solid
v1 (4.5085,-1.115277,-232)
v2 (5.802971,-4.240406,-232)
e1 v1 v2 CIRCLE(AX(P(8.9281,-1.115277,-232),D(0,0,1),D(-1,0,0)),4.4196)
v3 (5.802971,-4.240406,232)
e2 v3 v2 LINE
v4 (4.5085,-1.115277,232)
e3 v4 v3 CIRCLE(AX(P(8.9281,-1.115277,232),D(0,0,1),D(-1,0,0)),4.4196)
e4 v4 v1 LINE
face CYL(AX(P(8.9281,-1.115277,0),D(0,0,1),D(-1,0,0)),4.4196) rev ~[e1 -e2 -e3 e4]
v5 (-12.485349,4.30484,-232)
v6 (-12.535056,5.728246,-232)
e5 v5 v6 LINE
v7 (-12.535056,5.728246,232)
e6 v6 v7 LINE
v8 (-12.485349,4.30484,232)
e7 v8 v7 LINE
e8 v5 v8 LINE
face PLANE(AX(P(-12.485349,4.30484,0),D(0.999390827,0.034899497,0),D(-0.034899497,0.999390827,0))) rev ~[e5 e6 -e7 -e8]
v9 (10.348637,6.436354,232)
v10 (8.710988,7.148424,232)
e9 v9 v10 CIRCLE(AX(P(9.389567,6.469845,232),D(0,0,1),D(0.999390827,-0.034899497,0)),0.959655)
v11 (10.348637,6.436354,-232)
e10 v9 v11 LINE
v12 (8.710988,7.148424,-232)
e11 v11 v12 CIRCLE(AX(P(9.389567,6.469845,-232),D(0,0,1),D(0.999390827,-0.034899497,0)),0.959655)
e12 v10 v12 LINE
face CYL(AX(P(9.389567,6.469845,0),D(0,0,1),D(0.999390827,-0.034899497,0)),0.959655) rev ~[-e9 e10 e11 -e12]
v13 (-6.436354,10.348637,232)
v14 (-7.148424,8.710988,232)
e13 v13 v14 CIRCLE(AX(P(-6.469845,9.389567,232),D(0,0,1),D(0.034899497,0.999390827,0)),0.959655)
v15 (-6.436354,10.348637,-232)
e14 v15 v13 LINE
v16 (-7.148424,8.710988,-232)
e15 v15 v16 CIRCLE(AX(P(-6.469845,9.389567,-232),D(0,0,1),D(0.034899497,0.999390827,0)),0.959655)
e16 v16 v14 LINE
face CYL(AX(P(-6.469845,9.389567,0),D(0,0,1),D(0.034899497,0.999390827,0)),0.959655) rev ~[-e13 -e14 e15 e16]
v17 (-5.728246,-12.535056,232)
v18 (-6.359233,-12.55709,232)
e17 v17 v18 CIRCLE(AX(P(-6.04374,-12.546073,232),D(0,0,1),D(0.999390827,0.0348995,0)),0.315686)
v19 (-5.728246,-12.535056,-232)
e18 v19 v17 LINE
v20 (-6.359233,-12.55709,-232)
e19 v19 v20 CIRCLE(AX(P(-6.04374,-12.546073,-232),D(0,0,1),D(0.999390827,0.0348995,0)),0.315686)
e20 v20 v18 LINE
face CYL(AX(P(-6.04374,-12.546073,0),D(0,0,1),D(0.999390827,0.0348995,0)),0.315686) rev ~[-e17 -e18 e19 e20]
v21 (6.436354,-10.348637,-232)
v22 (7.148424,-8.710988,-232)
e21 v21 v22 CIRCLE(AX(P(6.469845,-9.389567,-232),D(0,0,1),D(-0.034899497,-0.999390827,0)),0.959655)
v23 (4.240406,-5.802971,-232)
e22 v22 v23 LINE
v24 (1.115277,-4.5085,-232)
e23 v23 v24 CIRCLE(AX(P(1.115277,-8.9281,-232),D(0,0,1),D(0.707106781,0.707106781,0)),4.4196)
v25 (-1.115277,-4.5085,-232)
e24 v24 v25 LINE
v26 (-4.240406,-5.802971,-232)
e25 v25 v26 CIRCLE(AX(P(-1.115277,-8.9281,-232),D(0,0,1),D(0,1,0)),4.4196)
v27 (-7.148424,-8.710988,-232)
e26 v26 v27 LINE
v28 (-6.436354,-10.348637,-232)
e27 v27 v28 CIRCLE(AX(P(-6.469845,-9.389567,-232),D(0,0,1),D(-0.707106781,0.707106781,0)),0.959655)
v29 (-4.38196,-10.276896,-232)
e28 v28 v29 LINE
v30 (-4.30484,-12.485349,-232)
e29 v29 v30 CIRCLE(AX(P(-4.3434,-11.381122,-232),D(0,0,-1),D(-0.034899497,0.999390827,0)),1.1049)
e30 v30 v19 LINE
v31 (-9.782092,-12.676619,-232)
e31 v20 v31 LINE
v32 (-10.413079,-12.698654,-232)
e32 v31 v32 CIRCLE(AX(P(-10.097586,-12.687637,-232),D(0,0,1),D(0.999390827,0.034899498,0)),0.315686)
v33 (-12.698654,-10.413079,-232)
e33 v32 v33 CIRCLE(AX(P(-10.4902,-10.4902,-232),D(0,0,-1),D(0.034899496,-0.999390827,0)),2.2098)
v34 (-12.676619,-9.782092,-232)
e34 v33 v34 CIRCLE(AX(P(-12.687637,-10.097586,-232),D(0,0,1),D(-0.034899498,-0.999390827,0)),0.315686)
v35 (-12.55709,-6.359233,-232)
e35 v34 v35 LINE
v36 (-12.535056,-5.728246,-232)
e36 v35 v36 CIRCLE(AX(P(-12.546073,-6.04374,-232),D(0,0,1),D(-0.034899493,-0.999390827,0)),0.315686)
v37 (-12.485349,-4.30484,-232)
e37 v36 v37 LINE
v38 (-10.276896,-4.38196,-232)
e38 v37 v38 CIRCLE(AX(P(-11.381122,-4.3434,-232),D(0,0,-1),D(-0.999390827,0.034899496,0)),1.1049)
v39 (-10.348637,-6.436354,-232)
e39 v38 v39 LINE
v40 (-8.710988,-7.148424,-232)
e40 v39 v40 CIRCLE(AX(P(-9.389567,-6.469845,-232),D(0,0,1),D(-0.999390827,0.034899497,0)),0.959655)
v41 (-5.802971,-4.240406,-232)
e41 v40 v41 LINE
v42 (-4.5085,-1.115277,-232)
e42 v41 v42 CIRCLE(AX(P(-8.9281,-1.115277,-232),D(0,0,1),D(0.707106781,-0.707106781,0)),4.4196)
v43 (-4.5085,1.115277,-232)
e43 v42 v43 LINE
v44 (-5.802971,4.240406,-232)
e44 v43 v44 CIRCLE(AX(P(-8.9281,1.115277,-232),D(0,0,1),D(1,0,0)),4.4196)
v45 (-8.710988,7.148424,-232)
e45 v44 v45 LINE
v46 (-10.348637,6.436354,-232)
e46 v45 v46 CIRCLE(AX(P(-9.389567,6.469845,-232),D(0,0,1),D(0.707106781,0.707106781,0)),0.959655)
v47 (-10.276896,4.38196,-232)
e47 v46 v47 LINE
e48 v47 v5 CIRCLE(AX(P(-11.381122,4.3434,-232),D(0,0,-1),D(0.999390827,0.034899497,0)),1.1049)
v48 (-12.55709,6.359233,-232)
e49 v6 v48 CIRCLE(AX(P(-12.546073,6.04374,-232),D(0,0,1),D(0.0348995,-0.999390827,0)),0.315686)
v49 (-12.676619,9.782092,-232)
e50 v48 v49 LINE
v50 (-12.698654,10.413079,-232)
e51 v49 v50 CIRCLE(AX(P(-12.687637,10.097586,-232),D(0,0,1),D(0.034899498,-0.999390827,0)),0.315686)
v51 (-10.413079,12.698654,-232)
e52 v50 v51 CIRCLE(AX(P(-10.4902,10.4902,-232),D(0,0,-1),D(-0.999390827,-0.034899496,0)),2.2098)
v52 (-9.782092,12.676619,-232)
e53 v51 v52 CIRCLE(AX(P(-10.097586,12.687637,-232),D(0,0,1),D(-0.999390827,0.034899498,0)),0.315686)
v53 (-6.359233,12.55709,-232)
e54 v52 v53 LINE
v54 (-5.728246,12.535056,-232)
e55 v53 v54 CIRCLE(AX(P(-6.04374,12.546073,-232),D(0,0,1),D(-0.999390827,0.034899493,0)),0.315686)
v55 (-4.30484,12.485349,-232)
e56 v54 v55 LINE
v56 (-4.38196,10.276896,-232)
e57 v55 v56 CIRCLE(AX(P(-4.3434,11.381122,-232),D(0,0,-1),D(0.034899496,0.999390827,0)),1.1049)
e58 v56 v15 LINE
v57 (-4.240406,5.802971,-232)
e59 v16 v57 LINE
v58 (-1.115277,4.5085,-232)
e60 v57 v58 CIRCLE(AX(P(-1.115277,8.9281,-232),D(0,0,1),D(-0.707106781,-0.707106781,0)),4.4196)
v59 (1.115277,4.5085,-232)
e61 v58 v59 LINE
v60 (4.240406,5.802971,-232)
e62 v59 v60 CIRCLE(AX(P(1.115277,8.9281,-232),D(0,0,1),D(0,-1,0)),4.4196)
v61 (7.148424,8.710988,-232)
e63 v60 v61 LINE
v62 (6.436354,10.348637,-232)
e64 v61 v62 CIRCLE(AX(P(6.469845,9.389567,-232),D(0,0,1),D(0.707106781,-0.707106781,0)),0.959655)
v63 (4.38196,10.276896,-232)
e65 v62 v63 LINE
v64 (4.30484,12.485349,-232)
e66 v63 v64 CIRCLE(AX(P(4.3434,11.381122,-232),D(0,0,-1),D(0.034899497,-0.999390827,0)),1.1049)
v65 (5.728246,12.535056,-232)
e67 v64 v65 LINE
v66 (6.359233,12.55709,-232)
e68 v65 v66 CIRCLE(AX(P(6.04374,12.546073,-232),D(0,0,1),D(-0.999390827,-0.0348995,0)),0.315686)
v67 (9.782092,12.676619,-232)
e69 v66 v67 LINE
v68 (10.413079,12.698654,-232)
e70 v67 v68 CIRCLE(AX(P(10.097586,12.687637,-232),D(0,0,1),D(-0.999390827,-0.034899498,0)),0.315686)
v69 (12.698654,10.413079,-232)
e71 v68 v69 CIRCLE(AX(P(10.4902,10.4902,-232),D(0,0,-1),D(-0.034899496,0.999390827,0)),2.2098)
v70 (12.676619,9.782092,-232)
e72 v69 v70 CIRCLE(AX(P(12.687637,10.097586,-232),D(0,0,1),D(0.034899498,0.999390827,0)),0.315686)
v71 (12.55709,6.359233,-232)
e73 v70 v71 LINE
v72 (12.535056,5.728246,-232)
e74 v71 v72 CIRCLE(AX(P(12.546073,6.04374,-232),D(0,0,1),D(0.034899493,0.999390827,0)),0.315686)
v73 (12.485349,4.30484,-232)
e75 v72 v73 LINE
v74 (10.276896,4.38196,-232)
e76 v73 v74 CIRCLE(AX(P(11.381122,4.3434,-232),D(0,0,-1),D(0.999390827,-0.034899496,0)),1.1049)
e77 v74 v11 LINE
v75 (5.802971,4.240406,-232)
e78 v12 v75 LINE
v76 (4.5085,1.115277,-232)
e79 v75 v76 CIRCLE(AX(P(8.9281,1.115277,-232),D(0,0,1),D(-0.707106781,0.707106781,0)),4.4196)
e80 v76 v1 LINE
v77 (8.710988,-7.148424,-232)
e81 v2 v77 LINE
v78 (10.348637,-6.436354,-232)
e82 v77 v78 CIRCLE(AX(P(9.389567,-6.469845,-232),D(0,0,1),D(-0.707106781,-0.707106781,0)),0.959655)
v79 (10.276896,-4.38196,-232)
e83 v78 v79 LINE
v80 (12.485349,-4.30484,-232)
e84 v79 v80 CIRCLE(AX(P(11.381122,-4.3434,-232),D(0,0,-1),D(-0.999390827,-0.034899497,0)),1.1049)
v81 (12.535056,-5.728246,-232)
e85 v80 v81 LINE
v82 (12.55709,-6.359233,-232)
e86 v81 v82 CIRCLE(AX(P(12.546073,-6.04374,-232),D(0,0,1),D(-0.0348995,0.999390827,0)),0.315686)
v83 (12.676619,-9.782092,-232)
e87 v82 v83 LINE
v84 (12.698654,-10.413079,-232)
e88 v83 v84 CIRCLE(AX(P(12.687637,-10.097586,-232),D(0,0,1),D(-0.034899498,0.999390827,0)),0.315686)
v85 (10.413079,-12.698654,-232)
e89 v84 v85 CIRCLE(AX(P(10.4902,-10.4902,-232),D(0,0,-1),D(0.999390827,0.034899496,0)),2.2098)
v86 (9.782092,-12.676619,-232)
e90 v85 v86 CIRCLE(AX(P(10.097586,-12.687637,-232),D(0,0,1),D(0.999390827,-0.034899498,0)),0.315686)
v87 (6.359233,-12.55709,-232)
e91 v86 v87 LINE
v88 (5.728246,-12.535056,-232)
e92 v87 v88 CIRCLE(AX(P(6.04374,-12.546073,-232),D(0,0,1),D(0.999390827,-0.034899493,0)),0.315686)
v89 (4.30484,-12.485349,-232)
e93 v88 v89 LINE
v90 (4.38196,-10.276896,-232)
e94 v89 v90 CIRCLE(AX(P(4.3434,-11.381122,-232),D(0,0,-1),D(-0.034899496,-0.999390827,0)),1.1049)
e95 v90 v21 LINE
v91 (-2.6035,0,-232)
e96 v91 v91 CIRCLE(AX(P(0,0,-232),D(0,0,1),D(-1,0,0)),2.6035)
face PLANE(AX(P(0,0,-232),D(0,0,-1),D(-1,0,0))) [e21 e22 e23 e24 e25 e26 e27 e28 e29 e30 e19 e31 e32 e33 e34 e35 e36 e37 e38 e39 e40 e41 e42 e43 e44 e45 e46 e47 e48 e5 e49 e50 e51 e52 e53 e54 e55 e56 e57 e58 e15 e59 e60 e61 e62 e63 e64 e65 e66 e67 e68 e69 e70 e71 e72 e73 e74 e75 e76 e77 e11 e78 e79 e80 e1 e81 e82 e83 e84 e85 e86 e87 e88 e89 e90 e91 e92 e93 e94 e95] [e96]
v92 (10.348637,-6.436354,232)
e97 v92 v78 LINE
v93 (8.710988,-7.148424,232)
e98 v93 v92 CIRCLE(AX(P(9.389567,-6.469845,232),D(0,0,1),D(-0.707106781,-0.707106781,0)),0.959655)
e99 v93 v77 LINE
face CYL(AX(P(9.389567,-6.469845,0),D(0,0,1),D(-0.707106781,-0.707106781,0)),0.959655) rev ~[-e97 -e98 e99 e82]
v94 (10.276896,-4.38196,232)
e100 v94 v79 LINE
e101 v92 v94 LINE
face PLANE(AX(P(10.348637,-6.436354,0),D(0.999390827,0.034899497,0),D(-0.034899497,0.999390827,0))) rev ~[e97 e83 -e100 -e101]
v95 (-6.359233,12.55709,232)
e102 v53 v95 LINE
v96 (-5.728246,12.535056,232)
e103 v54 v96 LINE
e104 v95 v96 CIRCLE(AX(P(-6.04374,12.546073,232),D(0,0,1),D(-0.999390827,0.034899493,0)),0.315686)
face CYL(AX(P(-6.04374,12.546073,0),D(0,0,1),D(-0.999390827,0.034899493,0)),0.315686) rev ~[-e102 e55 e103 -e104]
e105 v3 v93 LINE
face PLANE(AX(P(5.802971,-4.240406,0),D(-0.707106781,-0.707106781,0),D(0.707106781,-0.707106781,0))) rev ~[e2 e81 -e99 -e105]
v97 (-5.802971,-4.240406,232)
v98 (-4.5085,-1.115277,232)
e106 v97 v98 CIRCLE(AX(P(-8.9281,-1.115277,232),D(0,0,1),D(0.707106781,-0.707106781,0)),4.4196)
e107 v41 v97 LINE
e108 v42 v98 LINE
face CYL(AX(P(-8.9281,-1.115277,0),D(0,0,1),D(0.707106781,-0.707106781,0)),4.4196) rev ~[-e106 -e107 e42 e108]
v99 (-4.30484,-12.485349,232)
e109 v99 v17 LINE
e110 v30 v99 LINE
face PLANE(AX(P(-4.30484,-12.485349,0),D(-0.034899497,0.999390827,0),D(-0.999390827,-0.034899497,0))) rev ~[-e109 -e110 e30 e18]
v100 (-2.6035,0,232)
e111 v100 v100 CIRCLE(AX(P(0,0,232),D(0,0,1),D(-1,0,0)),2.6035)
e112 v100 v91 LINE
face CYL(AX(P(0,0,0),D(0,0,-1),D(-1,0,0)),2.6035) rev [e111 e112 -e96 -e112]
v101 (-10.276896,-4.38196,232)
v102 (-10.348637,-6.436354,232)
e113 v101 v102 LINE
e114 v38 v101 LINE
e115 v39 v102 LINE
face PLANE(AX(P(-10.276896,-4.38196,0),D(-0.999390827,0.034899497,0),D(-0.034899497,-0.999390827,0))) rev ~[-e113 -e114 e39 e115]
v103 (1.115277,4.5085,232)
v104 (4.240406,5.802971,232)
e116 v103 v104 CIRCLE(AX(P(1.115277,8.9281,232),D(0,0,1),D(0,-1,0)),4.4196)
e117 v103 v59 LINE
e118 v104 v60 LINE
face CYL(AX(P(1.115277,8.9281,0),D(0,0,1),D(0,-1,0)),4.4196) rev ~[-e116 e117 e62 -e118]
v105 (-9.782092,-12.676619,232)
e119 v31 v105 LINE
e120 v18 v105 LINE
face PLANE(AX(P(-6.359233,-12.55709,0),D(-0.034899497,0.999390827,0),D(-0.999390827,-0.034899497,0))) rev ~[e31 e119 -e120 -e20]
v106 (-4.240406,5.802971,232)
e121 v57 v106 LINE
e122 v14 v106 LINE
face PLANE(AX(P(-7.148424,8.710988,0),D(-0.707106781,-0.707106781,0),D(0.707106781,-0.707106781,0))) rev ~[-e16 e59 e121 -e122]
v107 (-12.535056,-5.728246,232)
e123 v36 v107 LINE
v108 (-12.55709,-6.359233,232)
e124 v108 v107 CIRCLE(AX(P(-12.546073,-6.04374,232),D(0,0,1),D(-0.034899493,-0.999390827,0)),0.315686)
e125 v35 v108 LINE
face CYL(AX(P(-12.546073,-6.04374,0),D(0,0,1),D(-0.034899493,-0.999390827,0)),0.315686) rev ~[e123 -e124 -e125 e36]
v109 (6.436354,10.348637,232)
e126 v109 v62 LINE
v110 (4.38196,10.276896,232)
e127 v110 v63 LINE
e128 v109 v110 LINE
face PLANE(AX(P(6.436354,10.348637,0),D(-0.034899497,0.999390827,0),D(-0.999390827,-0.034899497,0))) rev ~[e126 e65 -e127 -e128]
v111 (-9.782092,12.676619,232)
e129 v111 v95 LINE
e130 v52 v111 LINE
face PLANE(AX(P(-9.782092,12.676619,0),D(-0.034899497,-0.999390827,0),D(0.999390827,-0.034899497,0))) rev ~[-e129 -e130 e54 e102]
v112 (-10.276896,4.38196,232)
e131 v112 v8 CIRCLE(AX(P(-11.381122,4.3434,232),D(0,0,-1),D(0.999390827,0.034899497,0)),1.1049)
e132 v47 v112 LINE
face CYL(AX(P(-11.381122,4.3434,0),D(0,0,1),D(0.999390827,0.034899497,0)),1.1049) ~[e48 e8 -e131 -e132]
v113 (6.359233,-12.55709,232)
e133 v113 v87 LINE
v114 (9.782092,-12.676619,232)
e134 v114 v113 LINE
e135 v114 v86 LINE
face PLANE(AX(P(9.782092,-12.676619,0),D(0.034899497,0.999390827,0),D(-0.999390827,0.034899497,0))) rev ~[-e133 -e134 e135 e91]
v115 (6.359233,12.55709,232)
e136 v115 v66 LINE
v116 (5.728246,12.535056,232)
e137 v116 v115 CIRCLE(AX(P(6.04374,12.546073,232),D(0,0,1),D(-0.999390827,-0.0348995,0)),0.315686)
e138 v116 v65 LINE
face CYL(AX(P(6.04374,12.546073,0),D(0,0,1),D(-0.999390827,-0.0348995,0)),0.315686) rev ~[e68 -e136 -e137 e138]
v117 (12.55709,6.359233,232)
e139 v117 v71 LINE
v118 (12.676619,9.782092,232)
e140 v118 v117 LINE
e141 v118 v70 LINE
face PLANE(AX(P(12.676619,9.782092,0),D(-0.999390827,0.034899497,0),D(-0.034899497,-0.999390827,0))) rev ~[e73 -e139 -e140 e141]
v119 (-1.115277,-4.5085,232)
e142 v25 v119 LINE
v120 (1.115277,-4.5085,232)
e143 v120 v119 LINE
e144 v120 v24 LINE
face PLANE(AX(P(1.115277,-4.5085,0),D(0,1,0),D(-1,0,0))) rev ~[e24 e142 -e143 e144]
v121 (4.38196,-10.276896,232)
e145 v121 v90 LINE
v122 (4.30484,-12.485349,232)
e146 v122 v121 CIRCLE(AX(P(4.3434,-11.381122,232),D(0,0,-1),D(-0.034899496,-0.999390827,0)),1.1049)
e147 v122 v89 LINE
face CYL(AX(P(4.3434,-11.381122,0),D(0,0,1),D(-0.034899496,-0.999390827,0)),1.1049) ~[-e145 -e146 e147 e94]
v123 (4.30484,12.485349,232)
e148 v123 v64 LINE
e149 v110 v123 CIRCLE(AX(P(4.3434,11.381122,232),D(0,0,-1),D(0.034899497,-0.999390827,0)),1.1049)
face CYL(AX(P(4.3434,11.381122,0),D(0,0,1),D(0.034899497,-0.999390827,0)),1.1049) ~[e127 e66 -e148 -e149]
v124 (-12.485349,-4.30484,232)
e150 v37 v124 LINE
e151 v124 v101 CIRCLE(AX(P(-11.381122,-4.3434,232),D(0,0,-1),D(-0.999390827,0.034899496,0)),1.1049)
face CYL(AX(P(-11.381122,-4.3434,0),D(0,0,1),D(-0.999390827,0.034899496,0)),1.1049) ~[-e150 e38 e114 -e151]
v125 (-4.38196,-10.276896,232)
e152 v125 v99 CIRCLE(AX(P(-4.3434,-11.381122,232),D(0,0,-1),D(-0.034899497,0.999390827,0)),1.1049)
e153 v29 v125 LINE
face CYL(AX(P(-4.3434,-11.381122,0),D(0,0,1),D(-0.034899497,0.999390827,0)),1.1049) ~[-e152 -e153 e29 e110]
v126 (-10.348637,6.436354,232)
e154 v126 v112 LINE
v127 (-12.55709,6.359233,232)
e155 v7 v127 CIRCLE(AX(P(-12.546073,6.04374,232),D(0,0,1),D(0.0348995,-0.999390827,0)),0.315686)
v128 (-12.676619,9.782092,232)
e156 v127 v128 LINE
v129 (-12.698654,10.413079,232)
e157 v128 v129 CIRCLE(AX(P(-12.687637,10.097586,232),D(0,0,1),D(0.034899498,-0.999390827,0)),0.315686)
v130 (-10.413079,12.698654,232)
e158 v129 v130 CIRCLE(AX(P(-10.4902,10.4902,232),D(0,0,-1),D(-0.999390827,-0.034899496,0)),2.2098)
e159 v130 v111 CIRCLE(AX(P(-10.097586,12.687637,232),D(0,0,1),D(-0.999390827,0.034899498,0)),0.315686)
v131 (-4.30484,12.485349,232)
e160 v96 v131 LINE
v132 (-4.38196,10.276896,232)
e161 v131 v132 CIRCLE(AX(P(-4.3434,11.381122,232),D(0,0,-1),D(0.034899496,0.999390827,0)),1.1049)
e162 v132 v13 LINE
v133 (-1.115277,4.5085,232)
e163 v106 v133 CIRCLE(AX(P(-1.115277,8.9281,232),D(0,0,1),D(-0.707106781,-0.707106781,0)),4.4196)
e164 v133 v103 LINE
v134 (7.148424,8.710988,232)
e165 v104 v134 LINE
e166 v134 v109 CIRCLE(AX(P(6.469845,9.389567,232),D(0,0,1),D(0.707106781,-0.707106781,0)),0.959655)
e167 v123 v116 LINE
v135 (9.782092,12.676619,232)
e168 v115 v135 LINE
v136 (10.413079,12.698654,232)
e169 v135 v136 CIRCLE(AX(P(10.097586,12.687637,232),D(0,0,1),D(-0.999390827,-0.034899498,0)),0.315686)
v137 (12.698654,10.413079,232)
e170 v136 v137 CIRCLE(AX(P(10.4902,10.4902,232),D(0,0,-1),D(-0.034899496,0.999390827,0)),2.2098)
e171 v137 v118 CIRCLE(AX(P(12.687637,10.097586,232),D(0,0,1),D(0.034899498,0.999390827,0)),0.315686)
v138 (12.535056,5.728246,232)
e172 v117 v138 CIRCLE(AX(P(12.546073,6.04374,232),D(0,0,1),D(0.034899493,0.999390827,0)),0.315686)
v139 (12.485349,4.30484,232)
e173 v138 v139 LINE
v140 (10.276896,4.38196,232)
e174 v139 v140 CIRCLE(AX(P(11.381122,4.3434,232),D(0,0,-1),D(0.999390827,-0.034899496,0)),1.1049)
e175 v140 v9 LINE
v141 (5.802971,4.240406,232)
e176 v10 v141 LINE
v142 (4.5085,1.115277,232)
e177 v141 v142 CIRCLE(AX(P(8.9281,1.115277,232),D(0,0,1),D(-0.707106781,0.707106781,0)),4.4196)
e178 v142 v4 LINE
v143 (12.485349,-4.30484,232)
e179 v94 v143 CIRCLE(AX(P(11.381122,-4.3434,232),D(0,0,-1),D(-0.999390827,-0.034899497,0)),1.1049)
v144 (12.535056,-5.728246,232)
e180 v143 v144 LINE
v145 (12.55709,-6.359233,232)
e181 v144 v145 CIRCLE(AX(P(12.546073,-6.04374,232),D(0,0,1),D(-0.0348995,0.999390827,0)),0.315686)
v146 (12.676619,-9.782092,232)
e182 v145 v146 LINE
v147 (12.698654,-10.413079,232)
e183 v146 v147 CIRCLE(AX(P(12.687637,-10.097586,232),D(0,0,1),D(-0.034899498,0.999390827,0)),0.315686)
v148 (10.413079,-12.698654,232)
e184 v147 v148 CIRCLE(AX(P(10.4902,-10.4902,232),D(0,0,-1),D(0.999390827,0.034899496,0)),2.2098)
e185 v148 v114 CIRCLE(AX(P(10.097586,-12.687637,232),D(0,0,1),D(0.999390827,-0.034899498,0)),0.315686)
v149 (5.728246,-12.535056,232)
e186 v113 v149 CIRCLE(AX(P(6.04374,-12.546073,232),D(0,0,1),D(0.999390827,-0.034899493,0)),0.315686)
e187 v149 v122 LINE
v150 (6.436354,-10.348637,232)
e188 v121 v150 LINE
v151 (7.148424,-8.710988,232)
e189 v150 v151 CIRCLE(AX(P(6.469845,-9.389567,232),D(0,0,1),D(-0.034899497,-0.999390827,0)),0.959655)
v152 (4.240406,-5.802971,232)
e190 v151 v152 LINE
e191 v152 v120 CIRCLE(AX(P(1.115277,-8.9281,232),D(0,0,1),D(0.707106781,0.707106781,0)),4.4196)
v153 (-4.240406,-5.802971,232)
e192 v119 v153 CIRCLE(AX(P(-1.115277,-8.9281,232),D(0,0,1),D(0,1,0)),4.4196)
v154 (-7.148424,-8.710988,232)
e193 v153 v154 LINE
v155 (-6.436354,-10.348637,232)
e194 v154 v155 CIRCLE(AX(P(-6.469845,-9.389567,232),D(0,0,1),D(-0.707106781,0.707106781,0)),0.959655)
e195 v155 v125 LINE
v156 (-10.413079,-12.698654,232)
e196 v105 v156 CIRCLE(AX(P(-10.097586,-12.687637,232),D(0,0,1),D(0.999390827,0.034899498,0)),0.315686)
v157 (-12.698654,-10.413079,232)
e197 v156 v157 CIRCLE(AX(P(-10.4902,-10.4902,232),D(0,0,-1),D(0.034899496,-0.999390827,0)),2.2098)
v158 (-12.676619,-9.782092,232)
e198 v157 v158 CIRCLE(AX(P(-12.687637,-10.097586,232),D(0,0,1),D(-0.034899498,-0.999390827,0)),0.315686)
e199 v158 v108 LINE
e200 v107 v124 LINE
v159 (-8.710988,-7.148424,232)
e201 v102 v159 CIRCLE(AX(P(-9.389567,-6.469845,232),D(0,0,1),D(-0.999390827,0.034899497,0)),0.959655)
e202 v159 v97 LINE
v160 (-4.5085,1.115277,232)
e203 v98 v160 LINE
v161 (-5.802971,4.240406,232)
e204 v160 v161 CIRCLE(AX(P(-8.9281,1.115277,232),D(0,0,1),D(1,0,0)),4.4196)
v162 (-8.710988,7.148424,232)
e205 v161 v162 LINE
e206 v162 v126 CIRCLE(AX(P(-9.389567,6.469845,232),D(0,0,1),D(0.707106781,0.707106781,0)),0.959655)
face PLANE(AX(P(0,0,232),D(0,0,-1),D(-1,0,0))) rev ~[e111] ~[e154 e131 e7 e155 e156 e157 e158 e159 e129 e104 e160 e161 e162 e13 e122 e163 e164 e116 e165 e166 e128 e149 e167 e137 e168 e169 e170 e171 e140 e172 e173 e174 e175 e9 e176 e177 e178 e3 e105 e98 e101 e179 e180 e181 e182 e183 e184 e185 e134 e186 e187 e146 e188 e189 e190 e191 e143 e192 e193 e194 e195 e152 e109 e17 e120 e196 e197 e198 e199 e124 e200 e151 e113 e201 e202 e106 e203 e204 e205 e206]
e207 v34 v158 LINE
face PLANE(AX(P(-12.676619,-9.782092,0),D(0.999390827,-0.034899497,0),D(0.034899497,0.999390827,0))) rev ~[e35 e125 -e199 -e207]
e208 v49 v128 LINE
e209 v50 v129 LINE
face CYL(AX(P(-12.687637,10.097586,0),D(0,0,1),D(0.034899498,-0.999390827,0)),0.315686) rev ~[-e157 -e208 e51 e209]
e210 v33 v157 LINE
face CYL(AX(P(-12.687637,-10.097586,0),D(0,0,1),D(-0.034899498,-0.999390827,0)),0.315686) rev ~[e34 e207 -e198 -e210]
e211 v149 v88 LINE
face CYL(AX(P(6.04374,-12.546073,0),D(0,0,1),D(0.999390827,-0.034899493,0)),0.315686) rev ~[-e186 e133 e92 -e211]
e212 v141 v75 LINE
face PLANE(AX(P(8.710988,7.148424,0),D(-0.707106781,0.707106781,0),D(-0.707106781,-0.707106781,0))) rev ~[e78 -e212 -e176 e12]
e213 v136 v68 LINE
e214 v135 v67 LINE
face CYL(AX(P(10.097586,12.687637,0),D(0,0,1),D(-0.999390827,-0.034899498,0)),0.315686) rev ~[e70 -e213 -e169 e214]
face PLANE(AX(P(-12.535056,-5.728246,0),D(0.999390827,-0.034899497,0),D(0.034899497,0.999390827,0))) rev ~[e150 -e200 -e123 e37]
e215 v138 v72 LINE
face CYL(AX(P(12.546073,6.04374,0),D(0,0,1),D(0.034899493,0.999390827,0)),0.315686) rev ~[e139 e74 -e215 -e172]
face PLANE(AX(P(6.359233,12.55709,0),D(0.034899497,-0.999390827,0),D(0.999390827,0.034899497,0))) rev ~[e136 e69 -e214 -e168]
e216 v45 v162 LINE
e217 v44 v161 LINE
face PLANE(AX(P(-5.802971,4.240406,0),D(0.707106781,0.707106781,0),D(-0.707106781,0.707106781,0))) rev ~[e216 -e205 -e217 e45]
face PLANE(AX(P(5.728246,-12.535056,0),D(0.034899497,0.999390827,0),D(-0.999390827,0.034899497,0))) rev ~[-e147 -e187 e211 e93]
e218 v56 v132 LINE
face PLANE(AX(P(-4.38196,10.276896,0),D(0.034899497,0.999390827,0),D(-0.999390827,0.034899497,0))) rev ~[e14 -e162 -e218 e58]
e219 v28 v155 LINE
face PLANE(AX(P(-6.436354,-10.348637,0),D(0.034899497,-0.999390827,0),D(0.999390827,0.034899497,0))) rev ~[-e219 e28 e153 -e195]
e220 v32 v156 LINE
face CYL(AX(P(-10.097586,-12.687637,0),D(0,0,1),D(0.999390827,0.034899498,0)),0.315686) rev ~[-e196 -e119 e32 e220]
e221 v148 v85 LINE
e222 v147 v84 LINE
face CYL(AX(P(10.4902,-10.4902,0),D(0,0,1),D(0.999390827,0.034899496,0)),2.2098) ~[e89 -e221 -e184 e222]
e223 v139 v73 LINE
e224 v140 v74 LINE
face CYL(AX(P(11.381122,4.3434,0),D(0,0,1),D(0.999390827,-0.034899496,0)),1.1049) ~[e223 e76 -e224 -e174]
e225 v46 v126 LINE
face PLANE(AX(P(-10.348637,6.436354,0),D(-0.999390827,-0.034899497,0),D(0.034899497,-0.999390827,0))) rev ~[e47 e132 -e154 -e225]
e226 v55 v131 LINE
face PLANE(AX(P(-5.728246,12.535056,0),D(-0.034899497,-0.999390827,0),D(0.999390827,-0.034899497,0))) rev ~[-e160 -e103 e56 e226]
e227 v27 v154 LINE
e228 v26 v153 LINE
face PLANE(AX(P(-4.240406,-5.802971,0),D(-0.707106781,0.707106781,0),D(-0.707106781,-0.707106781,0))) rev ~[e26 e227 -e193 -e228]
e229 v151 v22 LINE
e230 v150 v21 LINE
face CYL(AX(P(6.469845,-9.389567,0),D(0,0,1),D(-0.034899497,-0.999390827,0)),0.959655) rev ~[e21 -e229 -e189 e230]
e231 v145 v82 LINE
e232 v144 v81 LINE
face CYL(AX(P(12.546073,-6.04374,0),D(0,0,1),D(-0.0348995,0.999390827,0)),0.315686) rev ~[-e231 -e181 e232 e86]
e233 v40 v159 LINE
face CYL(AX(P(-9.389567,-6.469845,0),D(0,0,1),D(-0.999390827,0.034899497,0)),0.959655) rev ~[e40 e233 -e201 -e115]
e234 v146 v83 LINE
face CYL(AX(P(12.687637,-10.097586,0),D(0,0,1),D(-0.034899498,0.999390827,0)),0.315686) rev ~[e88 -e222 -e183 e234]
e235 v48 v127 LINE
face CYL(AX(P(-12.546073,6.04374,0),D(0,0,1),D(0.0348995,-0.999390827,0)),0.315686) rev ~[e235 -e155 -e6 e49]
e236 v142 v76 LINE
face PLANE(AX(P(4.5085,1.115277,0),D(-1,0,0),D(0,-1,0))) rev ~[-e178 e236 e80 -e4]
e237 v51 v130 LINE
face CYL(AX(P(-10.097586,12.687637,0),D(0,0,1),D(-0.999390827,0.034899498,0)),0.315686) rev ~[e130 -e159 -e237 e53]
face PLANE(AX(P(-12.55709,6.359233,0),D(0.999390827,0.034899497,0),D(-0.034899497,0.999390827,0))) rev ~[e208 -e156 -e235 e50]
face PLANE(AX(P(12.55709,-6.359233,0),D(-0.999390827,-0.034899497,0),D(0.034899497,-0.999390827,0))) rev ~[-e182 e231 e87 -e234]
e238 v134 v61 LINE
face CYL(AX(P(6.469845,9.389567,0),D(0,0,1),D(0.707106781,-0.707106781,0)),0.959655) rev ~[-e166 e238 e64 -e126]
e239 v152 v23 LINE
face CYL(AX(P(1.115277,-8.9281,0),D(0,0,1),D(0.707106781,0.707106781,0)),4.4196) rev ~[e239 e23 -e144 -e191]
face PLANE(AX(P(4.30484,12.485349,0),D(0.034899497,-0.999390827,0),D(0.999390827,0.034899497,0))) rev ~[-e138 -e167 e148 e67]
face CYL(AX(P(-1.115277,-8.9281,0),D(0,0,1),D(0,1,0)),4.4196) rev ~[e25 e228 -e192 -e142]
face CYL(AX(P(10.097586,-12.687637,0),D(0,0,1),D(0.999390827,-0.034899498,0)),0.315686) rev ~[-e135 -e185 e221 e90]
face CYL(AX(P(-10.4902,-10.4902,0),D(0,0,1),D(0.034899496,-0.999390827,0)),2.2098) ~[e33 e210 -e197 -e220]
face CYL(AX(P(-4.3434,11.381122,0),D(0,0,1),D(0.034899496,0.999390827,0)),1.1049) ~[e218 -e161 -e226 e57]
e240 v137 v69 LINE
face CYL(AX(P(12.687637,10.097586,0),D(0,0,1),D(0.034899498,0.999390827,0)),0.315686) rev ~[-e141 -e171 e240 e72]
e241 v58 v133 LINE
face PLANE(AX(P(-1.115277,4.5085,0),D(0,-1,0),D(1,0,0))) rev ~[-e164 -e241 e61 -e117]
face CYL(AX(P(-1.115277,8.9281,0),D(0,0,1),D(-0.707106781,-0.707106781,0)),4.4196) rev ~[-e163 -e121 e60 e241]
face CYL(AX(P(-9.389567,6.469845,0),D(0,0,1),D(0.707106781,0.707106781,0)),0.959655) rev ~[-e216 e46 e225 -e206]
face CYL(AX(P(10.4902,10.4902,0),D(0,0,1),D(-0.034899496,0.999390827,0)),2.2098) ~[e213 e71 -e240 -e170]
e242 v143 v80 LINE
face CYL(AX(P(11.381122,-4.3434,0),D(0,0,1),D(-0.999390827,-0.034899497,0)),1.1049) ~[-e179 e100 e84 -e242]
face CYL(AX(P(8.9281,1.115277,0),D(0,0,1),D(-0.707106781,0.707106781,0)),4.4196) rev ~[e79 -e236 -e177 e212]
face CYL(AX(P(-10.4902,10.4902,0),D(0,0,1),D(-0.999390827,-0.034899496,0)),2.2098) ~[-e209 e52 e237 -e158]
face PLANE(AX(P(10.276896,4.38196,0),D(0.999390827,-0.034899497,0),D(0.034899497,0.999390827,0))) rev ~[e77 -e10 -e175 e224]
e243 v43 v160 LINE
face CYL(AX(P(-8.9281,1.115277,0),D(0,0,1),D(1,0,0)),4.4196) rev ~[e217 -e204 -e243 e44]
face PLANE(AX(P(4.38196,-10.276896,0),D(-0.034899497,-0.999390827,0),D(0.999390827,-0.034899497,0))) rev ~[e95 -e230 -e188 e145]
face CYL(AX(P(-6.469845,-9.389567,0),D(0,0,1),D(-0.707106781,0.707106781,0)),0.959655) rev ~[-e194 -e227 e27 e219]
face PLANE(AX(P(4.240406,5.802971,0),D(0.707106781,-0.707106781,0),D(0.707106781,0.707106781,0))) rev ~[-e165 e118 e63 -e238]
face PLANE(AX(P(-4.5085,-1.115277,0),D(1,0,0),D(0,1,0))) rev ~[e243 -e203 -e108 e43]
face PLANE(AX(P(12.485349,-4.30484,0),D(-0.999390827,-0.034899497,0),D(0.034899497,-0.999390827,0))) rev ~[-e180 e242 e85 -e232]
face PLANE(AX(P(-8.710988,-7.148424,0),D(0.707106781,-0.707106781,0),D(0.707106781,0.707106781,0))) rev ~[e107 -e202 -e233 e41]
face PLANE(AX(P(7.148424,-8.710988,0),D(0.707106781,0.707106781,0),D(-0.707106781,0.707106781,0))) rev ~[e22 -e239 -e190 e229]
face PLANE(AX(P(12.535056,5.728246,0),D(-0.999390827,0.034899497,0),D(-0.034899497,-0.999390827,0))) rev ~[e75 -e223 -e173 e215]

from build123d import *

# Parameters (mm, degrees)
SKETCH3_R      = 2.6035
EXTRUDE1_DEPTH = 232


with BuildPart() as part:
    # Sketch3 → Extrude1 (new, symmetric)
    with BuildSketch(Plane.XY):
        with BuildLine():
            Line((-1.115277175, 4.5085), (1.115277175, 4.5085))
            ThreePointArc((1.115277175, 4.5085), (2.806584872, 4.844922018), (4.240406305, 5.80297087))
            Line((4.240406305, 5.80297087), (7.148423664, 8.710988229))
            ThreePointArc((7.148423664, 8.710988229), (7.349906316, 9.772227925), (6.436353897, 10.348636575))
            Line((6.436353897, 10.348636575), (4.381960454, 10.276895575))
            ThreePointArc((4.381960454, 10.276895575), (3.239173075, 11.342562046), (4.304839546, 12.485349424))
            Line((4.304839546, 12.485349424), (5.728246175, 12.535055879))
            ThreePointArc((5.728246175, 12.535055879), (6.054756855, 12.230579745), (6.35923299, 12.557090424))
            Line((6.35923299, 12.557090424), (9.782092278, 12.676619304))
            ThreePointArc((9.782092278, 12.676619304), (10.108602958, 12.37214317), (10.413079092, 12.69865385))
            ThreePointArc((10.413079092, 12.69865385), (12.052764565, 12.052764565), (12.69865385, 10.413079092))
            ThreePointArc((12.69865385, 10.413079092), (12.37214317, 10.108602958), (12.676619304, 9.782092278))
            Line((12.676619304, 9.782092278), (12.557090424, 6.35923299))
            ThreePointArc((12.557090424, 6.35923299), (12.230579745, 6.054756855), (12.535055879, 5.728246175))
            Line((12.535055879, 5.728246175), (12.485349424, 4.304839546))
            ThreePointArc((12.485349424, 4.304839546), (11.342562046, 3.239173075), (10.276895575, 4.381960454))
            Line((10.276895575, 4.381960454), (10.348636575, 6.436353897))
            ThreePointArc((10.348636575, 6.436353897), (9.772227925, 7.349906316), (8.710988229, 7.148423664))
            Line((8.710988229, 7.148423664), (5.80297087, 4.240406305))
            ThreePointArc((5.80297087, 4.240406305), (4.844922018, 2.806584872), (4.5085, 1.115277175))
            Line((4.5085, 1.115277175), (4.5085, -1.115277175))
            ThreePointArc((4.5085, -1.115277175), (4.844922018, -2.806584872), (5.80297087, -4.240406305))
            Line((5.80297087, -4.240406305), (8.710988229, -7.148423664))
            ThreePointArc((8.710988229, -7.148423664), (9.772227925, -7.349906316), (10.348636575, -6.436353897))
            Line((10.348636575, -6.436353897), (10.276895575, -4.381960454))
            ThreePointArc((10.276895575, -4.381960454), (11.342562046, -3.239173075), (12.485349424, -4.304839546))
            Line((12.485349424, -4.304839546), (12.535055879, -5.728246175))
            ThreePointArc((12.535055879, -5.728246175), (12.230579745, -6.054756855), (12.557090424, -6.35923299))
            Line((12.557090424, -6.35923299), (12.676619304, -9.782092278))
            ThreePointArc((12.676619304, -9.782092278), (12.37214317, -10.108602958), (12.69865385, -10.413079092))
            ThreePointArc((12.69865385, -10.413079092), (12.052764565, -12.052764565), (10.413079092, -12.69865385))
            ThreePointArc((10.413079092, -12.69865385), (10.108602958, -12.37214317), (9.782092278, -12.676619304))
            Line((9.782092278, -12.676619304), (6.35923299, -12.557090424))
            ThreePointArc((6.35923299, -12.557090424), (6.054756855, -12.230579745), (5.728246175, -12.535055879))
            Line((5.728246175, -12.535055879), (4.304839546, -12.485349424))
            ThreePointArc((4.304839546, -12.485349424), (3.239173075, -11.342562046), (4.381960454, -10.276895575))
            Line((4.381960454, -10.276895575), (6.436353897, -10.348636575))
            ThreePointArc((6.436353897, -10.348636575), (7.349906316, -9.772227925), (7.148423664, -8.710988229))
            Line((7.148423664, -8.710988229), (4.240406305, -5.80297087))
            ThreePointArc((4.240406305, -5.80297087), (2.806584872, -4.844922018), (1.115277175, -4.5085))
            Line((1.115277175, -4.5085), (-1.115277175, -4.5085))
            ThreePointArc((-1.115277175, -4.5085), (-2.806584872, -4.844922018), (-4.240406305, -5.80297087))
            Line((-4.240406305, -5.80297087), (-7.148423664, -8.710988229))
            ThreePointArc((-7.148423664, -8.710988229), (-7.349906316, -9.772227925), (-6.436353897, -10.348636575))
            Line((-6.436353897, -10.348636575), (-4.381960454, -10.276895575))
            ThreePointArc((-4.381960454, -10.276895575), (-3.239173075, -11.342562046), (-4.304839546, -12.485349424))
            Line((-4.304839546, -12.485349424), (-5.728246175, -12.535055879))
            ThreePointArc((-5.728246175, -12.535055879), (-6.054756855, -12.230579745), (-6.35923299, -12.557090424))
            Line((-6.35923299, -12.557090424), (-9.782092278, -12.676619304))
            ThreePointArc((-9.782092278, -12.676619304), (-10.108602958, -12.37214317), (-10.413079092, -12.69865385))
            ThreePointArc((-10.413079092, -12.69865385), (-12.052764565, -12.052764565), (-12.69865385, -10.413079092))
            ThreePointArc((-12.69865385, -10.413079092), (-12.37214317, -10.108602958), (-12.676619304, -9.782092278))
            Line((-12.676619304, -9.782092278), (-12.557090424, -6.35923299))
            ThreePointArc((-12.557090424, -6.35923299), (-12.230579745, -6.054756855), (-12.535055879, -5.728246175))
            Line((-12.535055879, -5.728246175), (-12.485349424, -4.304839546))
            ThreePointArc((-12.485349424, -4.304839546), (-11.342562046, -3.239173075), (-10.276895575, -4.381960454))
            Line((-10.276895575, -4.381960454), (-10.348636575, -6.436353897))
            ThreePointArc((-10.348636575, -6.436353897), (-9.772227925, -7.349906316), (-8.710988229, -7.148423664))
            Line((-8.710988229, -7.148423664), (-5.80297087, -4.240406305))
            ThreePointArc((-5.80297087, -4.240406305), (-4.844922018, -2.806584872), (-4.5085, -1.115277175))
            Line((-4.5085, -1.115277175), (-4.5085, 1.115277175))
            ThreePointArc((-4.5085, 1.115277175), (-4.844922018, 2.806584872), (-5.80297087, 4.240406305))
            Line((-5.80297087, 4.240406305), (-8.710988229, 7.148423664))
            ThreePointArc((-8.710988229, 7.148423664), (-9.772227925, 7.349906316), (-10.348636575, 6.436353897))
            Line((-10.348636575, 6.436353897), (-10.276895575, 4.381960454))
            ThreePointArc((-10.276895575, 4.381960454), (-11.342562046, 3.239173075), (-12.485349424, 4.304839546))
            Line((-12.485349424, 4.304839546), (-12.535055879, 5.728246175))
            ThreePointArc((-12.535055879, 5.728246175), (-12.230579745, 6.054756855), (-12.557090424, 6.35923299))
            Line((-12.557090424, 6.35923299), (-12.676619304, 9.782092278))
            ThreePointArc((-12.676619304, 9.782092278), (-12.37214317, 10.108602958), (-12.69865385, 10.413079092))
            ThreePointArc((-12.69865385, 10.413079092), (-12.052764565, 12.052764565), (-10.413079092, 12.69865385))
            ThreePointArc((-10.413079092, 12.69865385), (-10.108602958, 12.37214317), (-9.782092278, 12.676619304))
            Line((-9.782092278, 12.676619304), (-6.35923299, 12.557090424))
            ThreePointArc((-6.35923299, 12.557090424), (-6.054756855, 12.230579745), (-5.728246175, 12.535055879))
            Line((-5.728246175, 12.535055879), (-4.304839546, 12.485349424))
            ThreePointArc((-4.304839546, 12.485349424), (-3.239173075, 11.342562046), (-4.381960454, 10.276895575))
            Line((-4.381960454, 10.276895575), (-6.436353897, 10.348636575))
            ThreePointArc((-6.436353897, 10.348636575), (-7.349906316, 9.772227925), (-7.148423664, 8.710988229))
            Line((-7.148423664, 8.710988229), (-4.240406305, 5.80297087))
            ThreePointArc((-4.240406305, 5.80297087), (-2.806584872, 4.844922018), (-1.115277175, 4.5085))
        make_face()
        with Locations(Location((0, 0, 0), (0, 0, 180))):
            Circle(SKETCH3_R, mode=Mode.SUBTRACT)
    extrude(amount=EXTRUDE1_DEPTH, both=True)


solid = part.part
